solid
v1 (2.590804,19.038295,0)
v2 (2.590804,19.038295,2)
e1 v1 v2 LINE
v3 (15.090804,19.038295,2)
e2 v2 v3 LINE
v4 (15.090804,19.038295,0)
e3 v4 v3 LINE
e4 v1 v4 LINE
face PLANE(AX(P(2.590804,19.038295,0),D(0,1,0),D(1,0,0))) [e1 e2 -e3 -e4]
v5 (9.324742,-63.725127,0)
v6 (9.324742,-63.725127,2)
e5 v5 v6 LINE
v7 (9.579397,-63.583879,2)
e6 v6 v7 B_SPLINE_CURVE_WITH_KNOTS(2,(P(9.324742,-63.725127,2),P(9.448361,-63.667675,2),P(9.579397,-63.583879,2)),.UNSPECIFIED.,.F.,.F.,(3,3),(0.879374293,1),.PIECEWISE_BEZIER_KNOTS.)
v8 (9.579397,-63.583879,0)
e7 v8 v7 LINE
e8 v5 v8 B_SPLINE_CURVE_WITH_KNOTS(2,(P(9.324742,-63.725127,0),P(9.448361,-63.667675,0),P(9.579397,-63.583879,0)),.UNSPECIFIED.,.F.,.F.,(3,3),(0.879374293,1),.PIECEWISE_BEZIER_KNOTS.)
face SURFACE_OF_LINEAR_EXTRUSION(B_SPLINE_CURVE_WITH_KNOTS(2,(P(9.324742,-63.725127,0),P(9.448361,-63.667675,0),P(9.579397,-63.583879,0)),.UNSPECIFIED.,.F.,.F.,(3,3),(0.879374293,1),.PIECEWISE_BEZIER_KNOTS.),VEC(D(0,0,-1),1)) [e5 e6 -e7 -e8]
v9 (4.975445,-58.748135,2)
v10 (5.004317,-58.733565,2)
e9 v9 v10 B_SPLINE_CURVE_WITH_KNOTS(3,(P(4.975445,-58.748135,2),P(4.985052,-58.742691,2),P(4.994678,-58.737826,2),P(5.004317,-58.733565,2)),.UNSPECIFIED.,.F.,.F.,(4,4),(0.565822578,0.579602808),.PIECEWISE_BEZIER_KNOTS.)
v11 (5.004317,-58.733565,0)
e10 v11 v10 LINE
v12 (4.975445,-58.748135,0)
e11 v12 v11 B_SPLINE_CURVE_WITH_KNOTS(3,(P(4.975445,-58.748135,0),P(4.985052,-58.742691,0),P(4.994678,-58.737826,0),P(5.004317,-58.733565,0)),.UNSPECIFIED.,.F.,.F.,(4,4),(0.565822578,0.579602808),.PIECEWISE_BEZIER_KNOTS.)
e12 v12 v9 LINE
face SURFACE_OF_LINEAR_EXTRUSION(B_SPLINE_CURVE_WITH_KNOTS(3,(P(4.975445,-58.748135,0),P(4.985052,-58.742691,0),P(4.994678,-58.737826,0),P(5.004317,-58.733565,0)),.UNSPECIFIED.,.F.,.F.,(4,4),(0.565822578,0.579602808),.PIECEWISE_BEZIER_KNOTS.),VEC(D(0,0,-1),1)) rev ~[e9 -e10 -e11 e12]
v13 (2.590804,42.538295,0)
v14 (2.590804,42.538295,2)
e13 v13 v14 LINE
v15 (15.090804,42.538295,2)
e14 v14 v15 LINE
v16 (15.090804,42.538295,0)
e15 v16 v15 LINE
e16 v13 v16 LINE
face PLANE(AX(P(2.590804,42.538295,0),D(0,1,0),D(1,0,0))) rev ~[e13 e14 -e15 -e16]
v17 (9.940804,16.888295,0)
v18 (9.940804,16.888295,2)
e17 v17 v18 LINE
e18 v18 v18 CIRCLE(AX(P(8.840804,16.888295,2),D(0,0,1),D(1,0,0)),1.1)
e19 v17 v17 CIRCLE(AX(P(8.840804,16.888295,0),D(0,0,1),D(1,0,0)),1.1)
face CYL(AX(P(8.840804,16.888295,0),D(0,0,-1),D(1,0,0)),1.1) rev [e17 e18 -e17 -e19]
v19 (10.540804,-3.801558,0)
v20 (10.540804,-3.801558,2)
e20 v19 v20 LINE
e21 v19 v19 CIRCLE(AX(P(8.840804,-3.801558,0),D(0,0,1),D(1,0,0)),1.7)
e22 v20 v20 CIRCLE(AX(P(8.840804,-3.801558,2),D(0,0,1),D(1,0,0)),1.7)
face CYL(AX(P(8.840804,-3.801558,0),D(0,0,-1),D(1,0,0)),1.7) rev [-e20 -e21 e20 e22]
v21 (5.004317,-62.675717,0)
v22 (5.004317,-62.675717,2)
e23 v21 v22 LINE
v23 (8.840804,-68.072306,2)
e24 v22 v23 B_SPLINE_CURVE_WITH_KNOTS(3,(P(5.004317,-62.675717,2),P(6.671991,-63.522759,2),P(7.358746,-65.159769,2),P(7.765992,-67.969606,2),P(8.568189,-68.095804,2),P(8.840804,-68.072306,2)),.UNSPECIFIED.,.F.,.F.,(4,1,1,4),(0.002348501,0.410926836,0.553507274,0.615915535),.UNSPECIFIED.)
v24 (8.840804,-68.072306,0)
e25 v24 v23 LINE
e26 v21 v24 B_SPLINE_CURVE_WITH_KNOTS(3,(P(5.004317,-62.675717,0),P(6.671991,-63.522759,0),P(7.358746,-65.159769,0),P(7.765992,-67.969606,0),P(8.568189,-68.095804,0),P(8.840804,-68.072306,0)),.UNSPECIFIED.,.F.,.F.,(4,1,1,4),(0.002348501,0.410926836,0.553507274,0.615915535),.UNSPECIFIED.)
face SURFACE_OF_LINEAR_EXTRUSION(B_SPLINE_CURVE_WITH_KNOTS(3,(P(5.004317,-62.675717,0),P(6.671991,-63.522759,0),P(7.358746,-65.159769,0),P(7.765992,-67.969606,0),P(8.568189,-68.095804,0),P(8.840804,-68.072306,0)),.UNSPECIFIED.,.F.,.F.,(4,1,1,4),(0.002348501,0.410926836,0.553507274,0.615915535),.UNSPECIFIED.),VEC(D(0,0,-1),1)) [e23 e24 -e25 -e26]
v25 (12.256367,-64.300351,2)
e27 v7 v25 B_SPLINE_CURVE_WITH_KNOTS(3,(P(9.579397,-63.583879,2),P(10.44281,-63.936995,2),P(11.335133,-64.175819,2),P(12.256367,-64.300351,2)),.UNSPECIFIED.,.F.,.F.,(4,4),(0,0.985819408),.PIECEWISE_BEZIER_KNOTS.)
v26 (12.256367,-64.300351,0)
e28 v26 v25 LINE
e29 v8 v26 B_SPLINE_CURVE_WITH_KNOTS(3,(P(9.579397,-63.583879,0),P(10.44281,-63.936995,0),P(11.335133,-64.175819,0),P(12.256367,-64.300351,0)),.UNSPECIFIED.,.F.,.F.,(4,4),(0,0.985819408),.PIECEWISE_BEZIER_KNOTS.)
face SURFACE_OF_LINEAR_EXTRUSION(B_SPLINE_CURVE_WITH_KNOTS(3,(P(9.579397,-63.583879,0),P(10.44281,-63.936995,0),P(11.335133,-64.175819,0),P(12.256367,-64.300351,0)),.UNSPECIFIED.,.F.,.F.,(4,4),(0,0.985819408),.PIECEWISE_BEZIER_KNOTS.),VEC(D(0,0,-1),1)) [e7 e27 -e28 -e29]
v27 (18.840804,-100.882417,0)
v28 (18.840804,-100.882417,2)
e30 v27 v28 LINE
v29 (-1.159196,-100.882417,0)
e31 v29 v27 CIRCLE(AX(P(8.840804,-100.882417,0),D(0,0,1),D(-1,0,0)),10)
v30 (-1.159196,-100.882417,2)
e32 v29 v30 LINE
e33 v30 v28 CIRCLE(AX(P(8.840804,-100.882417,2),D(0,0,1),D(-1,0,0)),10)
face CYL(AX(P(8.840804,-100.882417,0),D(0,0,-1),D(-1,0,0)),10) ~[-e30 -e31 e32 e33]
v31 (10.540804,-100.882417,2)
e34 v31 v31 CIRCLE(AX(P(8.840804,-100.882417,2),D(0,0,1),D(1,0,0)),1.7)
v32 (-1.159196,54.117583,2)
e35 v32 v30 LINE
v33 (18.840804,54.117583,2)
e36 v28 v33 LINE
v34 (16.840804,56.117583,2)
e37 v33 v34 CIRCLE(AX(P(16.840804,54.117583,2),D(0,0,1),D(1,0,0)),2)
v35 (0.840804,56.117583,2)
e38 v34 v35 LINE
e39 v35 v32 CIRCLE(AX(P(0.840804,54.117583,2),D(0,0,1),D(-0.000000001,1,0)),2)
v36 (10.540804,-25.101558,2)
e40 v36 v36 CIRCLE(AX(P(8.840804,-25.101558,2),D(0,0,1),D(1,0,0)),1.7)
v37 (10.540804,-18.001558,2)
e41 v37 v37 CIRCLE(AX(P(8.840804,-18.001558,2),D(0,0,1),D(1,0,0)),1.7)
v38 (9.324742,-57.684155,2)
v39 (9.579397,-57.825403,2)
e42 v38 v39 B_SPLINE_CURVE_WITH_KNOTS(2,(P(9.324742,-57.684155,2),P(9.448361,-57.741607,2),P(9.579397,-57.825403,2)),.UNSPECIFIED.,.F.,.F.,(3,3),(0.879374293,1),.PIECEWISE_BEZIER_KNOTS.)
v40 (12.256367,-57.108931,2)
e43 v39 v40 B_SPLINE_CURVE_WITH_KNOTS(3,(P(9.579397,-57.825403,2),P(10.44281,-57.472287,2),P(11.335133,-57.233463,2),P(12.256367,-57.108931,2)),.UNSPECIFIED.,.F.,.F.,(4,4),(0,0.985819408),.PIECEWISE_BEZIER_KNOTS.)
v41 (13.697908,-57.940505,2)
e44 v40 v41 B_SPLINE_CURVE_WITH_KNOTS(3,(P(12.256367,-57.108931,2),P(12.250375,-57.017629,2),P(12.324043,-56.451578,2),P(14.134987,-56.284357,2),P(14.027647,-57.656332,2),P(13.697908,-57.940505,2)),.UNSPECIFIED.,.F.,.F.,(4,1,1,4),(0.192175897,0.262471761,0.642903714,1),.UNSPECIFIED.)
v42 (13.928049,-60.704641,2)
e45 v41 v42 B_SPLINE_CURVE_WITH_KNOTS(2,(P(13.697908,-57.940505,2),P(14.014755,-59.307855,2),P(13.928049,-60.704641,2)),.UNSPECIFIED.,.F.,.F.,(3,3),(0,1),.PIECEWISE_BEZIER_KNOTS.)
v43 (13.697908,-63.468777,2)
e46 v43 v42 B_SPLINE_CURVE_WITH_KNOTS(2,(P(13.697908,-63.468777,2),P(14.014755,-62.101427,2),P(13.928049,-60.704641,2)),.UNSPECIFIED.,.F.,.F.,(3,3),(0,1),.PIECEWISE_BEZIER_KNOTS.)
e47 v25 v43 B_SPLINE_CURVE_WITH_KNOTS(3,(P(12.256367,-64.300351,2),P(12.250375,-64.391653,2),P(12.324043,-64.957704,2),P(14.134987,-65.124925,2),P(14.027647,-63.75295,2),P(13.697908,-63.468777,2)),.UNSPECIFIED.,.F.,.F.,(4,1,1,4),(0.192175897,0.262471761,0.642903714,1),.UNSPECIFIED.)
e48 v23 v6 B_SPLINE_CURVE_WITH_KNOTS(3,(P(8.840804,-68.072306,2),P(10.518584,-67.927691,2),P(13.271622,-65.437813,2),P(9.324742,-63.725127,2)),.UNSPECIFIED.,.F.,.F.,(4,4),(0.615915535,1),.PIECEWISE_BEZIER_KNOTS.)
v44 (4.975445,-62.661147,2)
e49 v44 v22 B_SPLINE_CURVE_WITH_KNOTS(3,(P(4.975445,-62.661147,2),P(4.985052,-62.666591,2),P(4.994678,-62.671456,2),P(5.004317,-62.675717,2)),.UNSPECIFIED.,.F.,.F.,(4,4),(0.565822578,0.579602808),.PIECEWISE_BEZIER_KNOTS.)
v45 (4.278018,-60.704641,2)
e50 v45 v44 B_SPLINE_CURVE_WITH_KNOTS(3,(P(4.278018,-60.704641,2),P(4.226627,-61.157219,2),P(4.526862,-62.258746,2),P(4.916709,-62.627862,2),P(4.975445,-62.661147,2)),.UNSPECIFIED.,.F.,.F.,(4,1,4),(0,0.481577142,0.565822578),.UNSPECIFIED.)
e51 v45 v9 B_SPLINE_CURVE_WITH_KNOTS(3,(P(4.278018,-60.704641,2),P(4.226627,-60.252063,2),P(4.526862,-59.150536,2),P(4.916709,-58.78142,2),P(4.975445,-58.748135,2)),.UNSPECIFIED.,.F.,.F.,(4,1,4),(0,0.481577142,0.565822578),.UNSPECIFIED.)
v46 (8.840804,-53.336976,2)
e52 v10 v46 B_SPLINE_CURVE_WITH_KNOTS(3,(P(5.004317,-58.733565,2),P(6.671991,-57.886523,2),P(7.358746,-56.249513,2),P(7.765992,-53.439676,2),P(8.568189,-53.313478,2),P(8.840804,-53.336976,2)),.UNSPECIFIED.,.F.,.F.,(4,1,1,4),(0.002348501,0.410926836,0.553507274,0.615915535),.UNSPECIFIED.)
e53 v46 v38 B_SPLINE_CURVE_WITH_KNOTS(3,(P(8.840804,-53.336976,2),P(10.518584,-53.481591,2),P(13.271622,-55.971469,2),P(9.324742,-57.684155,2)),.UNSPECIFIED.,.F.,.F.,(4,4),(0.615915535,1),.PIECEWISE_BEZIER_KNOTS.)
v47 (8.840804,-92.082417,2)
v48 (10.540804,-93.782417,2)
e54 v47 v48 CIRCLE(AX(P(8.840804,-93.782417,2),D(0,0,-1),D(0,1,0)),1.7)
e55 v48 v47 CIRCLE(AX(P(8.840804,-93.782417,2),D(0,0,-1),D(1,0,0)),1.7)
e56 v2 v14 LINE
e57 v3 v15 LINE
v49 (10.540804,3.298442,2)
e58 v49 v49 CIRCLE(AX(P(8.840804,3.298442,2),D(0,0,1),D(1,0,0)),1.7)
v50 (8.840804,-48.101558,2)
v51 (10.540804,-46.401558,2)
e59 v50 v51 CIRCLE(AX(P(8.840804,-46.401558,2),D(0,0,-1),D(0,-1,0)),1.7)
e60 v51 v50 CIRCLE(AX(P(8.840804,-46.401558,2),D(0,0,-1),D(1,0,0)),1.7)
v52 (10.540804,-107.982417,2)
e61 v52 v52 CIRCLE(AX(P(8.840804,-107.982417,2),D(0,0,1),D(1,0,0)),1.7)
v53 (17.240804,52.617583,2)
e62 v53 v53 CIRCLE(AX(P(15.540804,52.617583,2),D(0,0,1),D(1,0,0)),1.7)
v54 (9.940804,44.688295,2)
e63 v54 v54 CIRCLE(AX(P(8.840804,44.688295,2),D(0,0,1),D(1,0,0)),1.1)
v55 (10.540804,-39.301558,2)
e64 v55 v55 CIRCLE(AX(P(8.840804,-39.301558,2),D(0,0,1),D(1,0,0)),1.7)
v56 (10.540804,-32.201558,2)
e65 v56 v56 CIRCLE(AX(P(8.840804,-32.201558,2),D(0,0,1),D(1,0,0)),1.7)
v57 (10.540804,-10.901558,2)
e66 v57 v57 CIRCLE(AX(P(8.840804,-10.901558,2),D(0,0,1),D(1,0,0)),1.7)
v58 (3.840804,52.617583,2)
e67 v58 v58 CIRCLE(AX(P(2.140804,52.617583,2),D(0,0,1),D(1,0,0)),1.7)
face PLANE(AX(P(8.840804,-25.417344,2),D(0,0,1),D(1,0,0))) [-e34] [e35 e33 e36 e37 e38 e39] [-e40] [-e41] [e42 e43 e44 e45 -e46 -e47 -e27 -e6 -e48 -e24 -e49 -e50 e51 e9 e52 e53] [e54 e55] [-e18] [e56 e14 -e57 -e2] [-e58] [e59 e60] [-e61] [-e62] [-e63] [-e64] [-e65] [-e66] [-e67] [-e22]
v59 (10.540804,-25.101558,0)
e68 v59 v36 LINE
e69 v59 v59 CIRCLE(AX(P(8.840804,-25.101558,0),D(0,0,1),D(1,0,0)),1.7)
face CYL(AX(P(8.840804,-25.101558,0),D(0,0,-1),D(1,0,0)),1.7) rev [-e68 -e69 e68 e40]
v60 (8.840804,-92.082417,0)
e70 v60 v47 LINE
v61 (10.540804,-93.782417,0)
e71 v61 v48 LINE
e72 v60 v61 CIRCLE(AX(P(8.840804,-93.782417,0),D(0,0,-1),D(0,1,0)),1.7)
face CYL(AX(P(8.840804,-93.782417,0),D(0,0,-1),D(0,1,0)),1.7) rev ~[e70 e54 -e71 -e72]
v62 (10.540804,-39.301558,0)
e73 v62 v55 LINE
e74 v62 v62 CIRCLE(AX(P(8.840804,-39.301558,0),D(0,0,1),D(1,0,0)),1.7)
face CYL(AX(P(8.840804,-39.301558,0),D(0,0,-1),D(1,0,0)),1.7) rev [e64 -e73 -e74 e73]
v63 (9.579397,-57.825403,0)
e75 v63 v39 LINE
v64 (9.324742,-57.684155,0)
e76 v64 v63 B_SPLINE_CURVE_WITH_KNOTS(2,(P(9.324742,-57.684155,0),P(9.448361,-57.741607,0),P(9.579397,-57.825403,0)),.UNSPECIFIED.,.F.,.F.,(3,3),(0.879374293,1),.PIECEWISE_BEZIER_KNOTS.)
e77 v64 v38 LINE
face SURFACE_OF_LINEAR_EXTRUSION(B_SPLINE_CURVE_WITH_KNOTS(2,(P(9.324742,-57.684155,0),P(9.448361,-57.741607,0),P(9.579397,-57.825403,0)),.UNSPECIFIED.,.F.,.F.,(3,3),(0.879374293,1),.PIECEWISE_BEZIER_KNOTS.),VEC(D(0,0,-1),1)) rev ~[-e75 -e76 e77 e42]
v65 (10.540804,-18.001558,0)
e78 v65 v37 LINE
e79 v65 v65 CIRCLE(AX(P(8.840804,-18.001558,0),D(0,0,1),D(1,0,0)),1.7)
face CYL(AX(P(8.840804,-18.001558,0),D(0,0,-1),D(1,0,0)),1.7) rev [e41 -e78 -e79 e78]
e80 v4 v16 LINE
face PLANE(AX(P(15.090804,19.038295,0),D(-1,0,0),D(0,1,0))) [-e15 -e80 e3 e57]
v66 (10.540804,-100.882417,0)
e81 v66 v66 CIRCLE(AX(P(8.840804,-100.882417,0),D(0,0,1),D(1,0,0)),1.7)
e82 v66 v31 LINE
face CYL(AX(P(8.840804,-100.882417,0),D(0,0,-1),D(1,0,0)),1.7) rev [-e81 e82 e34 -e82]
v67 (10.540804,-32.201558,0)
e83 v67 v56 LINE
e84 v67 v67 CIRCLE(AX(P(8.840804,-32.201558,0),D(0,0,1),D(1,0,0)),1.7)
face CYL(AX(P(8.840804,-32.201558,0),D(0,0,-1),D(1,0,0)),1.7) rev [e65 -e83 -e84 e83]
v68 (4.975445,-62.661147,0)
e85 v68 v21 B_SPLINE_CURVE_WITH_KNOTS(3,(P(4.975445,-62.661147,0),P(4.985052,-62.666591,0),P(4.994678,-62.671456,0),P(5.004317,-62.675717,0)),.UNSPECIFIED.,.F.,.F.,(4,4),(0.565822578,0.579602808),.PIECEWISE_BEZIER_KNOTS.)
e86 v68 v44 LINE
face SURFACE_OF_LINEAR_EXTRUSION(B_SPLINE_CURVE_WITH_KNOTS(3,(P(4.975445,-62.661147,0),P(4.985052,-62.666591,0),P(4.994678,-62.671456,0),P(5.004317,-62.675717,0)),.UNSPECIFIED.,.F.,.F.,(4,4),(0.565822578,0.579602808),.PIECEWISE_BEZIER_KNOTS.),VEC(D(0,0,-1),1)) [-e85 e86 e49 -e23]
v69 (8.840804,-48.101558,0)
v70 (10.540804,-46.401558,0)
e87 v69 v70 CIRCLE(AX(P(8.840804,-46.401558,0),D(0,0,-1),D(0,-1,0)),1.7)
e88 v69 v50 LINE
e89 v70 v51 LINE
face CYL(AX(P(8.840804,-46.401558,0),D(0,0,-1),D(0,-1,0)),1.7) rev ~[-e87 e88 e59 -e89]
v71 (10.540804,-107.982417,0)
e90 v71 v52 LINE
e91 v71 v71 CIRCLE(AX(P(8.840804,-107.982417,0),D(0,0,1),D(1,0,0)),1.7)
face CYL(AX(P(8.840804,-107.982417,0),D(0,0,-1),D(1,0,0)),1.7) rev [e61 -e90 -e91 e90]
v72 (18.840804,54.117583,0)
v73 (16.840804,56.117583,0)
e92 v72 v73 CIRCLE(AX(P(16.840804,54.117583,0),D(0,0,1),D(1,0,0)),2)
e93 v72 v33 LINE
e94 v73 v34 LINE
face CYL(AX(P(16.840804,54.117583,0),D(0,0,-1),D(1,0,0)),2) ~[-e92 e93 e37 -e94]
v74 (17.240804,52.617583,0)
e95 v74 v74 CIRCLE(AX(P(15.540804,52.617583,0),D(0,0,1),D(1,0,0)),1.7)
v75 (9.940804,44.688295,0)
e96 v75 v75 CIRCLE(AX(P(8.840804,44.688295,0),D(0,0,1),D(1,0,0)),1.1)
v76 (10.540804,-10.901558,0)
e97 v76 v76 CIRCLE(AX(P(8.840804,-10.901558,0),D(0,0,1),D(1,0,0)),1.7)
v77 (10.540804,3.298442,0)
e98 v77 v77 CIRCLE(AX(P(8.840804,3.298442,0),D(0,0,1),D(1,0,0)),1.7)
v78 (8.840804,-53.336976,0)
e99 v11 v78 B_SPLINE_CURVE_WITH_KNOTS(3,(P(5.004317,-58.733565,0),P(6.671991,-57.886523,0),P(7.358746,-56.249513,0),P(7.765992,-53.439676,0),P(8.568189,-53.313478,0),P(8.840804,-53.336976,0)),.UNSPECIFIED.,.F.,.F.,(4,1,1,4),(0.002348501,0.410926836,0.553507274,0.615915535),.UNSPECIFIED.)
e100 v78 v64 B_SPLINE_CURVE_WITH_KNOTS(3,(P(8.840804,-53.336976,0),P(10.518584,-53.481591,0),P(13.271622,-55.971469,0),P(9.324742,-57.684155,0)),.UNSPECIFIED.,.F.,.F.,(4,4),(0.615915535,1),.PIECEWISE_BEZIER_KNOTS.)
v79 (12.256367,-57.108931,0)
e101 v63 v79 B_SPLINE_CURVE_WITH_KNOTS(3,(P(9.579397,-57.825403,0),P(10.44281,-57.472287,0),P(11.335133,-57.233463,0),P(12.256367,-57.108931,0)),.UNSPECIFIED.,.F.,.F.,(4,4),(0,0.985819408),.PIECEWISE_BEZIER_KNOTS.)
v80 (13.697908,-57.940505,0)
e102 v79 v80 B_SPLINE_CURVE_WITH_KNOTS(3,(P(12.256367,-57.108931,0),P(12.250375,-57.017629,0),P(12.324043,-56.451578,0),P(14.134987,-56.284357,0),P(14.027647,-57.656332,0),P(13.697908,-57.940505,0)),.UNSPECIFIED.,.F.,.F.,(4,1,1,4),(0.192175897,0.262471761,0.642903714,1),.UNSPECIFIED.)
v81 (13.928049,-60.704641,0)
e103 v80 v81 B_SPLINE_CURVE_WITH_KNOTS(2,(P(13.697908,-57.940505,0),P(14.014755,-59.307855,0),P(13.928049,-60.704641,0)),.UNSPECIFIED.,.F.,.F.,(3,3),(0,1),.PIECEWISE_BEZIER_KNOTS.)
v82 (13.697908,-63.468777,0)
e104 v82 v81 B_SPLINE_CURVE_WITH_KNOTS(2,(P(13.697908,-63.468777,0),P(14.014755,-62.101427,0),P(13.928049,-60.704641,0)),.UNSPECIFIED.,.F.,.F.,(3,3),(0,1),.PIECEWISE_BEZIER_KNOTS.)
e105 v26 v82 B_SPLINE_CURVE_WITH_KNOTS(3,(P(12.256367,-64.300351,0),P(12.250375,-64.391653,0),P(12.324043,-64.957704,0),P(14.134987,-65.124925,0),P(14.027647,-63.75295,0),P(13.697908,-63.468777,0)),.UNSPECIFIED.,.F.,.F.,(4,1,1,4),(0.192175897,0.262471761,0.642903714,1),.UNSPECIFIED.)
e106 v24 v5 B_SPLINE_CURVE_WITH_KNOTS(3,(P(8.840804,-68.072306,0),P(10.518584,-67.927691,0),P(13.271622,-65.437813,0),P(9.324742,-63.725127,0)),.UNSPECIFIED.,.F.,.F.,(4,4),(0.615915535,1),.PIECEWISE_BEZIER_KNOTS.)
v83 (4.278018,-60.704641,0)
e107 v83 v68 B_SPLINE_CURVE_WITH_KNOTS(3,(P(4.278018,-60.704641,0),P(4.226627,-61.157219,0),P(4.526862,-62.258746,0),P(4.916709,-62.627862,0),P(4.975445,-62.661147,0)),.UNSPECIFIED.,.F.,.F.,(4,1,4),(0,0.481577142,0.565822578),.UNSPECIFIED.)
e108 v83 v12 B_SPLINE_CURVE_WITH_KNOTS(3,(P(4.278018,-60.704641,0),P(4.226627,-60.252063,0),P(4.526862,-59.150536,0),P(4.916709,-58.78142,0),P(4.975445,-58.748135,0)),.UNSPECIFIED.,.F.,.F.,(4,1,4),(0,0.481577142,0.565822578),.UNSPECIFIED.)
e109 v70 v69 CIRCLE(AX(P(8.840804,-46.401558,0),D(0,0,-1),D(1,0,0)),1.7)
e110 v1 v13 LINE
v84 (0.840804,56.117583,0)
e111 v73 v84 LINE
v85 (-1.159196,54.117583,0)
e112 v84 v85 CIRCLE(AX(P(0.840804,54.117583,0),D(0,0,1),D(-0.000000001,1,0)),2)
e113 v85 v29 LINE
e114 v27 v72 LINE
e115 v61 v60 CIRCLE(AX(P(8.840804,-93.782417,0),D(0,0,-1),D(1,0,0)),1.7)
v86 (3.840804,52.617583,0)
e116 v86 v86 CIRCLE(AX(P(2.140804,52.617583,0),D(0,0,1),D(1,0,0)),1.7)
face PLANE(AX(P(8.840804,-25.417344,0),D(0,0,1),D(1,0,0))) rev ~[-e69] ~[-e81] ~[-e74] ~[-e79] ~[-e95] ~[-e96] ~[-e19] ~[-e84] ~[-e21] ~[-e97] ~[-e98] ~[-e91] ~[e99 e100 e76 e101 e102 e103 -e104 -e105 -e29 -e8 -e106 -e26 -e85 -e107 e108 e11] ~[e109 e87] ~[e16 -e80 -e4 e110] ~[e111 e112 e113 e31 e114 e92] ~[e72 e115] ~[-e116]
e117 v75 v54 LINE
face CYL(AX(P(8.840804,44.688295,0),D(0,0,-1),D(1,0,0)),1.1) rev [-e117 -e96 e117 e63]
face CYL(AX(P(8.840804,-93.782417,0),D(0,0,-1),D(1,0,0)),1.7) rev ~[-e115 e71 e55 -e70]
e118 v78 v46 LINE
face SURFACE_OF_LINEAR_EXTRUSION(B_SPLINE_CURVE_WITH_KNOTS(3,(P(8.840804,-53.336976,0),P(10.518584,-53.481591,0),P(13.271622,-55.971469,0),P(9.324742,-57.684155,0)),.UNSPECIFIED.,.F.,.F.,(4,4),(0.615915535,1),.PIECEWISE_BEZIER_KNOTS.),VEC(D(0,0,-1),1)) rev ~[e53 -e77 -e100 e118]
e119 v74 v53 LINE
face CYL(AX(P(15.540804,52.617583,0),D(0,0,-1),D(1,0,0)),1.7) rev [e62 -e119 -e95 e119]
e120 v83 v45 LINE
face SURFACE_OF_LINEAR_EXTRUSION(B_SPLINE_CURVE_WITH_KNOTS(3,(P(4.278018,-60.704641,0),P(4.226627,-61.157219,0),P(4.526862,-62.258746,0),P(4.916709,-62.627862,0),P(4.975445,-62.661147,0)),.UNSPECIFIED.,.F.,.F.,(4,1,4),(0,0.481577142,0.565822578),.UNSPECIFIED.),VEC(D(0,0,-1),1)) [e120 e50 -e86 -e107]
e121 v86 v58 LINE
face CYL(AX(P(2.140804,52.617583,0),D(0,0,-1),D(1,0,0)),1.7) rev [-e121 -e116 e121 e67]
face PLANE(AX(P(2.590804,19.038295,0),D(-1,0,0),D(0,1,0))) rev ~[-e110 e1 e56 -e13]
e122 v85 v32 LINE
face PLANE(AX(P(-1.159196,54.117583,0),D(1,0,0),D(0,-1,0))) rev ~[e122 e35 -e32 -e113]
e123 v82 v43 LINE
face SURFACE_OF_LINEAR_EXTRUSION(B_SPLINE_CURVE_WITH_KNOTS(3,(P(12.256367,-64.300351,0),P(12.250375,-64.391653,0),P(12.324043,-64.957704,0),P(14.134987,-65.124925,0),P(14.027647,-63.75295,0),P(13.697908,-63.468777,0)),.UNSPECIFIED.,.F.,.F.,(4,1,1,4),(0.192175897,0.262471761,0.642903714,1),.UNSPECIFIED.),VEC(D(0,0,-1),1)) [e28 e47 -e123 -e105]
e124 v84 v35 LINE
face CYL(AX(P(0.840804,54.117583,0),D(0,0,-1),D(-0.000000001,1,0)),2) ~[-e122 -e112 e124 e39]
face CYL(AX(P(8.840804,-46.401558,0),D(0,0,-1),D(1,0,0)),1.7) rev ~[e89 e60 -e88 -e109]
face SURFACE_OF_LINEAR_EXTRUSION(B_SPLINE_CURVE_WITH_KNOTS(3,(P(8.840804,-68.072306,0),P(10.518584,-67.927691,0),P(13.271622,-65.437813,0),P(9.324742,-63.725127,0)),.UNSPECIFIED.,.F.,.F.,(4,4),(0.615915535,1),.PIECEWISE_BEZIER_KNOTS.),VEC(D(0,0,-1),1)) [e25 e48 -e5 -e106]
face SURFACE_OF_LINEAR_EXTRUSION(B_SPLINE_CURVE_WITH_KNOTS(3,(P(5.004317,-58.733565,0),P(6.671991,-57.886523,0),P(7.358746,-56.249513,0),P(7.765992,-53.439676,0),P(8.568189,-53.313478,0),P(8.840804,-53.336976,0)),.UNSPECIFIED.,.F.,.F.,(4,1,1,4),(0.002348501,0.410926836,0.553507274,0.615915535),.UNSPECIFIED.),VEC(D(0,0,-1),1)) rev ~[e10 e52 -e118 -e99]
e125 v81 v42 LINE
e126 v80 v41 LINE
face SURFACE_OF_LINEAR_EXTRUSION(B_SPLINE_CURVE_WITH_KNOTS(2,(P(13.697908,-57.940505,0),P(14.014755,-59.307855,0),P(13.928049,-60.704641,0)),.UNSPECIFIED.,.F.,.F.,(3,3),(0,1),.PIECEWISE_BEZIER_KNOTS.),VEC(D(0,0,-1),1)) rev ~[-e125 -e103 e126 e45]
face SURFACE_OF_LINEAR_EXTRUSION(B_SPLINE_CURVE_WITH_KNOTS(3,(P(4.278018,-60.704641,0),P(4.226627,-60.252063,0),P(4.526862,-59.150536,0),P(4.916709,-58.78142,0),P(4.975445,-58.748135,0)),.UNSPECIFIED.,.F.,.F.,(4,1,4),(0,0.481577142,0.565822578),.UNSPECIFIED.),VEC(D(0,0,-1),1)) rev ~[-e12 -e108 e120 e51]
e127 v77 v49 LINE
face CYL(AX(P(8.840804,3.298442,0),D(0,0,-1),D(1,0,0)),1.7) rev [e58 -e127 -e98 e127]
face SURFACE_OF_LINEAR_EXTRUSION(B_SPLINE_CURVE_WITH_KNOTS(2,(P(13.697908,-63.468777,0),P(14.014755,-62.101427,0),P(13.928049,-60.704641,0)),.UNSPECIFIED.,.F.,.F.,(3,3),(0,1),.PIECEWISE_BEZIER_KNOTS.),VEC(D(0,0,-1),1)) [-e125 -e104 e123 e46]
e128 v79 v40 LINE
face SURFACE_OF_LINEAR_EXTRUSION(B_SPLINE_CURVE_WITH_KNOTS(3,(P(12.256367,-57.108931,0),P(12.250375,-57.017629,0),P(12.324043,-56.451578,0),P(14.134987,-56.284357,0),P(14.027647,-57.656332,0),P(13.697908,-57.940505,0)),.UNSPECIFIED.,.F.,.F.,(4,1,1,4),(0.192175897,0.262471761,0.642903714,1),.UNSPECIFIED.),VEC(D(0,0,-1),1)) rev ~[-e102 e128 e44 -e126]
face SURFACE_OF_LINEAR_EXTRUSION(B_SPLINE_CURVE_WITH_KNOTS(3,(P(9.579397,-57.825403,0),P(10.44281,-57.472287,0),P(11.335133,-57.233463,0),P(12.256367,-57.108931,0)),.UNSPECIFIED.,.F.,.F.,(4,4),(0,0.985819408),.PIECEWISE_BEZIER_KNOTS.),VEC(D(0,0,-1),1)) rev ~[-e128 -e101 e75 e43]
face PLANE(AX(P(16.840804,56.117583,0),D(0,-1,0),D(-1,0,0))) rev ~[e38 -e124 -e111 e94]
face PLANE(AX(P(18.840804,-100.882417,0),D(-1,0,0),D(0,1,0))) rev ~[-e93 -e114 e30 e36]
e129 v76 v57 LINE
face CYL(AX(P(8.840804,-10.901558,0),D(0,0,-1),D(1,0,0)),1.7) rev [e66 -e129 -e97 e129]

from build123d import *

# Parameters (mm, degrees)
SKETCH_3_R      = 1.700000006
SKETCH_3_R_2    = 1.100000006
SKETCH_3_W      = 12.5
SKETCH_3_H      = 23.5
EXTRUDE_2_DEPTH = 2


with BuildPart() as part:
    # 草图3 → 凸台-拉伸2 (new body)
    with BuildSketch(Plane.XY):
        with BuildLine():
            Line((16.840804288, 56.117583031), (0.840804288, 56.117583031))
            ThreePointArc((0.840804288, 56.117583031), (-0.573409274, 55.531796593), (-1.159195712, 54.117583031))
            Line((-1.159195712, 54.117583031), (-1.159195712, -100.882416969))
            ThreePointArc((-1.159195712, -100.882416969), (8.840804288, -110.882416969), (18.840804288, -100.882416969))
            Line((18.840804288, -100.882416969), (18.840804288, 54.117583031))
            ThreePointArc((18.840804288, 54.117583031), (18.255017851, 55.531796593), (16.840804288, 56.117583031))
        make_face()
        with Locations((8.840804288, -107.982416969)):
            Circle(SKETCH_3_R, mode=Mode.SUBTRACT)
        with BuildLine():
            ThreePointArc((10.540804288, -93.782416969), (7.63872276, -94.984498497), (8.840804288, -92.082416969))
            ThreePointArc((8.840804288, -92.082416969), (10.042885816, -92.580335441), (10.540804288, -93.782416969))
        make_face(mode=Mode.SUBTRACT)
        with BuildLine():
            ThreePointArc((10.540804294, -46.401557681), (10.04288582, -47.603639213), (8.840804288, -48.101557686))
            ThreePointArc((8.840804288, -48.101557686), (7.638722756, -45.199476149), (10.540804294, -46.401557681))
        make_face(mode=Mode.SUBTRACT)
        with Locations((8.840804288, -39.301557681)):
            Circle(SKETCH_3_R, mode=Mode.SUBTRACT)
        with Locations((8.840804288, -32.201557681)):
            Circle(SKETCH_3_R, mode=Mode.SUBTRACT)
        with Locations((8.840804288, -100.882416969)):
            Circle(SKETCH_3_R, mode=Mode.SUBTRACT)
        with BuildLine():
            add(Edge.make_bspline(
                [(8.840804288, -68.07230608), (10.518584029, -67.9276906), (13.271622127, -65.4378125), (9.324741551, -63.725127446)],
                knots=[0.615915535, 0.615915535, 0.615915535, 0.615915535, 1, 1, 1, 1], degree=3))
            add(Edge.make_bspline(
                [(5.004317127, -62.675716717), (6.671990842, -63.522758583), (7.358746233, -65.159768504), (7.765991833, -67.969605562), (8.568188953, -68.095804038), (8.840804288, -68.07230608)],
                knots=[0.002348501, 0.002348501, 0.002348501, 0.002348501, 0.410926836, 0.553507274, 0.615915535, 0.615915535, 0.615915535, 0.615915535], degree=3))
            add(Edge.make_bspline(
                [(4.975444833, -62.661146677), (4.985052333, -62.666591164), (4.994678321, -62.671455775), (5.004317127, -62.675716717)],
                knots=[0.565822578, 0.565822578, 0.565822578, 0.565822578, 0.579602808, 0.579602808, 0.579602808, 0.579602808], degree=3))
            add(Edge.make_bspline(
                [(4.278018154, -60.704640985), (4.226627162, -61.157219039), (4.526861731, -62.258746315), (4.916709377, -62.627861804), (4.975444833, -62.661146677)],
                knots=[0, 0, 0, 0, 0.481577142, 0.565822578, 0.565822578, 0.565822578, 0.565822578], degree=3))
            add(Edge.make_bspline(
                [(4.278018154, -60.704640985), (4.226627162, -60.252062931), (4.526861731, -59.150535655), (4.916709377, -58.781420166), (4.975444833, -58.748135293)],
                knots=[0, 0, 0, 0, 0.481577142, 0.565822578, 0.565822578, 0.565822578, 0.565822578], degree=3))
            add(Edge.make_bspline(
                [(4.975444833, -58.748135293), (4.985052333, -58.742690806), (4.994678321, -58.737826195), (5.004317127, -58.733565253)],
                knots=[0.565822578, 0.565822578, 0.565822578, 0.565822578, 0.579602808, 0.579602808, 0.579602808, 0.579602808], degree=3))
            add(Edge.make_bspline(
                [(5.004317127, -58.733565253), (6.671990842, -57.886523387), (7.358746233, -56.249513466), (7.765991833, -53.439676408), (8.568188953, -53.313477932), (8.840804288, -53.33697589)],
                knots=[0.002348501, 0.002348501, 0.002348501, 0.002348501, 0.410926836, 0.553507274, 0.615915535, 0.615915535, 0.615915535, 0.615915535], degree=3))
            add(Edge.make_bspline(
                [(8.840804288, -53.33697589), (10.518584029, -53.481591371), (13.271622127, -55.97146947), (9.324741551, -57.684154524)],
                knots=[0.615915535, 0.615915535, 0.615915535, 0.615915535, 1, 1, 1, 1], degree=3))
            add(Edge.make_bspline(
                [(9.324741551, -57.684154524), (9.448361201, -57.741607127), (9.579397012, -57.825403241)],
                knots=[0.879374293, 0.879374293, 0.879374293, 1, 1, 1], degree=2))
            add(Edge.make_bspline(
                [(9.579397012, -57.825403241), (10.442809677, -57.472287252), (11.335132803, -57.233463092), (12.256366661, -57.108930725)],
                knots=[0, 0, 0, 0, 0.985819408, 0.985819408, 0.985819408, 0.985819408], degree=3))
            add(Edge.make_bspline(
                [(12.256366661, -57.108930725), (12.250375457, -57.017628974), (12.324042897, -56.451578095), (14.134987008, -56.284356721), (14.027647091, -57.656331575), (13.69790824, -57.940504606)],
                knots=[0.192175897, 0.192175897, 0.192175897, 0.192175897, 0.262471761, 0.642903714, 1, 1, 1, 1], degree=3))
            add(Edge.make_bspline(
                [(13.69790824, -57.940504606), (14.014754559, -59.307854638), (13.928049408, -60.704640985)],
                knots=[0, 0, 0, 1, 1, 1], degree=2))
            add(Edge.make_bspline(
                [(13.69790824, -63.468777364), (14.014754559, -62.101427332), (13.928049408, -60.704640985)],
                knots=[0, 0, 0, 1, 1, 1], degree=2))
            add(Edge.make_bspline(
                [(12.256366661, -64.300351246), (12.250375457, -64.391652996), (12.324042897, -64.957703875), (14.134987008, -65.124925249), (14.027647091, -63.752950395), (13.69790824, -63.468777364)],
                knots=[0.192175897, 0.192175897, 0.192175897, 0.192175897, 0.262471761, 0.642903714, 1, 1, 1, 1], degree=3))
            add(Edge.make_bspline(
                [(9.579397012, -63.583878729), (10.442809677, -63.936994718), (11.335132803, -64.175818878), (12.256366661, -64.300351246)],
                knots=[0, 0, 0, 0, 0.985819408, 0.985819408, 0.985819408, 0.985819408], degree=3))
            add(Edge.make_bspline(
                [(9.324741551, -63.725127446), (9.448361201, -63.667674843), (9.579397012, -63.583878729)],
                knots=[0.879374293, 0.879374293, 0.879374293, 1, 1, 1], degree=2))
        make_face(mode=Mode.SUBTRACT)
        with Locations((8.840804288, -25.101557681)):
            Circle(SKETCH_3_R, mode=Mode.SUBTRACT)
        with Locations((8.840804288, -18.001557681)):
            Circle(SKETCH_3_R, mode=Mode.SUBTRACT)
        with Locations((8.840804288, -10.901557681)):
            Circle(SKETCH_3_R, mode=Mode.SUBTRACT)
        with Locations((8.840804288, -3.801557681)):
            Circle(SKETCH_3_R, mode=Mode.SUBTRACT)
        with Locations((8.840804288, 3.298442319)):
            Circle(SKETCH_3_R, mode=Mode.SUBTRACT)
        with Locations((2.140804288, 52.617583031)):
            Circle(SKETCH_3_R, mode=Mode.SUBTRACT)
        with Locations((8.840804288, 16.888295099)):
            Circle(SKETCH_3_R_2, mode=Mode.SUBTRACT)
        with Locations((8.840804288, 30.788295099)):
            Rectangle(SKETCH_3_W, SKETCH_3_H, mode=Mode.SUBTRACT)
        with Locations((8.840804288, 44.688295099)):
            Circle(SKETCH_3_R_2, mode=Mode.SUBTRACT)
        with Locations((15.540804288, 52.617583031)):
            Circle(SKETCH_3_R, mode=Mode.SUBTRACT)
    extrude(amount=EXTRUDE_2_DEPTH)


solid = part.part
